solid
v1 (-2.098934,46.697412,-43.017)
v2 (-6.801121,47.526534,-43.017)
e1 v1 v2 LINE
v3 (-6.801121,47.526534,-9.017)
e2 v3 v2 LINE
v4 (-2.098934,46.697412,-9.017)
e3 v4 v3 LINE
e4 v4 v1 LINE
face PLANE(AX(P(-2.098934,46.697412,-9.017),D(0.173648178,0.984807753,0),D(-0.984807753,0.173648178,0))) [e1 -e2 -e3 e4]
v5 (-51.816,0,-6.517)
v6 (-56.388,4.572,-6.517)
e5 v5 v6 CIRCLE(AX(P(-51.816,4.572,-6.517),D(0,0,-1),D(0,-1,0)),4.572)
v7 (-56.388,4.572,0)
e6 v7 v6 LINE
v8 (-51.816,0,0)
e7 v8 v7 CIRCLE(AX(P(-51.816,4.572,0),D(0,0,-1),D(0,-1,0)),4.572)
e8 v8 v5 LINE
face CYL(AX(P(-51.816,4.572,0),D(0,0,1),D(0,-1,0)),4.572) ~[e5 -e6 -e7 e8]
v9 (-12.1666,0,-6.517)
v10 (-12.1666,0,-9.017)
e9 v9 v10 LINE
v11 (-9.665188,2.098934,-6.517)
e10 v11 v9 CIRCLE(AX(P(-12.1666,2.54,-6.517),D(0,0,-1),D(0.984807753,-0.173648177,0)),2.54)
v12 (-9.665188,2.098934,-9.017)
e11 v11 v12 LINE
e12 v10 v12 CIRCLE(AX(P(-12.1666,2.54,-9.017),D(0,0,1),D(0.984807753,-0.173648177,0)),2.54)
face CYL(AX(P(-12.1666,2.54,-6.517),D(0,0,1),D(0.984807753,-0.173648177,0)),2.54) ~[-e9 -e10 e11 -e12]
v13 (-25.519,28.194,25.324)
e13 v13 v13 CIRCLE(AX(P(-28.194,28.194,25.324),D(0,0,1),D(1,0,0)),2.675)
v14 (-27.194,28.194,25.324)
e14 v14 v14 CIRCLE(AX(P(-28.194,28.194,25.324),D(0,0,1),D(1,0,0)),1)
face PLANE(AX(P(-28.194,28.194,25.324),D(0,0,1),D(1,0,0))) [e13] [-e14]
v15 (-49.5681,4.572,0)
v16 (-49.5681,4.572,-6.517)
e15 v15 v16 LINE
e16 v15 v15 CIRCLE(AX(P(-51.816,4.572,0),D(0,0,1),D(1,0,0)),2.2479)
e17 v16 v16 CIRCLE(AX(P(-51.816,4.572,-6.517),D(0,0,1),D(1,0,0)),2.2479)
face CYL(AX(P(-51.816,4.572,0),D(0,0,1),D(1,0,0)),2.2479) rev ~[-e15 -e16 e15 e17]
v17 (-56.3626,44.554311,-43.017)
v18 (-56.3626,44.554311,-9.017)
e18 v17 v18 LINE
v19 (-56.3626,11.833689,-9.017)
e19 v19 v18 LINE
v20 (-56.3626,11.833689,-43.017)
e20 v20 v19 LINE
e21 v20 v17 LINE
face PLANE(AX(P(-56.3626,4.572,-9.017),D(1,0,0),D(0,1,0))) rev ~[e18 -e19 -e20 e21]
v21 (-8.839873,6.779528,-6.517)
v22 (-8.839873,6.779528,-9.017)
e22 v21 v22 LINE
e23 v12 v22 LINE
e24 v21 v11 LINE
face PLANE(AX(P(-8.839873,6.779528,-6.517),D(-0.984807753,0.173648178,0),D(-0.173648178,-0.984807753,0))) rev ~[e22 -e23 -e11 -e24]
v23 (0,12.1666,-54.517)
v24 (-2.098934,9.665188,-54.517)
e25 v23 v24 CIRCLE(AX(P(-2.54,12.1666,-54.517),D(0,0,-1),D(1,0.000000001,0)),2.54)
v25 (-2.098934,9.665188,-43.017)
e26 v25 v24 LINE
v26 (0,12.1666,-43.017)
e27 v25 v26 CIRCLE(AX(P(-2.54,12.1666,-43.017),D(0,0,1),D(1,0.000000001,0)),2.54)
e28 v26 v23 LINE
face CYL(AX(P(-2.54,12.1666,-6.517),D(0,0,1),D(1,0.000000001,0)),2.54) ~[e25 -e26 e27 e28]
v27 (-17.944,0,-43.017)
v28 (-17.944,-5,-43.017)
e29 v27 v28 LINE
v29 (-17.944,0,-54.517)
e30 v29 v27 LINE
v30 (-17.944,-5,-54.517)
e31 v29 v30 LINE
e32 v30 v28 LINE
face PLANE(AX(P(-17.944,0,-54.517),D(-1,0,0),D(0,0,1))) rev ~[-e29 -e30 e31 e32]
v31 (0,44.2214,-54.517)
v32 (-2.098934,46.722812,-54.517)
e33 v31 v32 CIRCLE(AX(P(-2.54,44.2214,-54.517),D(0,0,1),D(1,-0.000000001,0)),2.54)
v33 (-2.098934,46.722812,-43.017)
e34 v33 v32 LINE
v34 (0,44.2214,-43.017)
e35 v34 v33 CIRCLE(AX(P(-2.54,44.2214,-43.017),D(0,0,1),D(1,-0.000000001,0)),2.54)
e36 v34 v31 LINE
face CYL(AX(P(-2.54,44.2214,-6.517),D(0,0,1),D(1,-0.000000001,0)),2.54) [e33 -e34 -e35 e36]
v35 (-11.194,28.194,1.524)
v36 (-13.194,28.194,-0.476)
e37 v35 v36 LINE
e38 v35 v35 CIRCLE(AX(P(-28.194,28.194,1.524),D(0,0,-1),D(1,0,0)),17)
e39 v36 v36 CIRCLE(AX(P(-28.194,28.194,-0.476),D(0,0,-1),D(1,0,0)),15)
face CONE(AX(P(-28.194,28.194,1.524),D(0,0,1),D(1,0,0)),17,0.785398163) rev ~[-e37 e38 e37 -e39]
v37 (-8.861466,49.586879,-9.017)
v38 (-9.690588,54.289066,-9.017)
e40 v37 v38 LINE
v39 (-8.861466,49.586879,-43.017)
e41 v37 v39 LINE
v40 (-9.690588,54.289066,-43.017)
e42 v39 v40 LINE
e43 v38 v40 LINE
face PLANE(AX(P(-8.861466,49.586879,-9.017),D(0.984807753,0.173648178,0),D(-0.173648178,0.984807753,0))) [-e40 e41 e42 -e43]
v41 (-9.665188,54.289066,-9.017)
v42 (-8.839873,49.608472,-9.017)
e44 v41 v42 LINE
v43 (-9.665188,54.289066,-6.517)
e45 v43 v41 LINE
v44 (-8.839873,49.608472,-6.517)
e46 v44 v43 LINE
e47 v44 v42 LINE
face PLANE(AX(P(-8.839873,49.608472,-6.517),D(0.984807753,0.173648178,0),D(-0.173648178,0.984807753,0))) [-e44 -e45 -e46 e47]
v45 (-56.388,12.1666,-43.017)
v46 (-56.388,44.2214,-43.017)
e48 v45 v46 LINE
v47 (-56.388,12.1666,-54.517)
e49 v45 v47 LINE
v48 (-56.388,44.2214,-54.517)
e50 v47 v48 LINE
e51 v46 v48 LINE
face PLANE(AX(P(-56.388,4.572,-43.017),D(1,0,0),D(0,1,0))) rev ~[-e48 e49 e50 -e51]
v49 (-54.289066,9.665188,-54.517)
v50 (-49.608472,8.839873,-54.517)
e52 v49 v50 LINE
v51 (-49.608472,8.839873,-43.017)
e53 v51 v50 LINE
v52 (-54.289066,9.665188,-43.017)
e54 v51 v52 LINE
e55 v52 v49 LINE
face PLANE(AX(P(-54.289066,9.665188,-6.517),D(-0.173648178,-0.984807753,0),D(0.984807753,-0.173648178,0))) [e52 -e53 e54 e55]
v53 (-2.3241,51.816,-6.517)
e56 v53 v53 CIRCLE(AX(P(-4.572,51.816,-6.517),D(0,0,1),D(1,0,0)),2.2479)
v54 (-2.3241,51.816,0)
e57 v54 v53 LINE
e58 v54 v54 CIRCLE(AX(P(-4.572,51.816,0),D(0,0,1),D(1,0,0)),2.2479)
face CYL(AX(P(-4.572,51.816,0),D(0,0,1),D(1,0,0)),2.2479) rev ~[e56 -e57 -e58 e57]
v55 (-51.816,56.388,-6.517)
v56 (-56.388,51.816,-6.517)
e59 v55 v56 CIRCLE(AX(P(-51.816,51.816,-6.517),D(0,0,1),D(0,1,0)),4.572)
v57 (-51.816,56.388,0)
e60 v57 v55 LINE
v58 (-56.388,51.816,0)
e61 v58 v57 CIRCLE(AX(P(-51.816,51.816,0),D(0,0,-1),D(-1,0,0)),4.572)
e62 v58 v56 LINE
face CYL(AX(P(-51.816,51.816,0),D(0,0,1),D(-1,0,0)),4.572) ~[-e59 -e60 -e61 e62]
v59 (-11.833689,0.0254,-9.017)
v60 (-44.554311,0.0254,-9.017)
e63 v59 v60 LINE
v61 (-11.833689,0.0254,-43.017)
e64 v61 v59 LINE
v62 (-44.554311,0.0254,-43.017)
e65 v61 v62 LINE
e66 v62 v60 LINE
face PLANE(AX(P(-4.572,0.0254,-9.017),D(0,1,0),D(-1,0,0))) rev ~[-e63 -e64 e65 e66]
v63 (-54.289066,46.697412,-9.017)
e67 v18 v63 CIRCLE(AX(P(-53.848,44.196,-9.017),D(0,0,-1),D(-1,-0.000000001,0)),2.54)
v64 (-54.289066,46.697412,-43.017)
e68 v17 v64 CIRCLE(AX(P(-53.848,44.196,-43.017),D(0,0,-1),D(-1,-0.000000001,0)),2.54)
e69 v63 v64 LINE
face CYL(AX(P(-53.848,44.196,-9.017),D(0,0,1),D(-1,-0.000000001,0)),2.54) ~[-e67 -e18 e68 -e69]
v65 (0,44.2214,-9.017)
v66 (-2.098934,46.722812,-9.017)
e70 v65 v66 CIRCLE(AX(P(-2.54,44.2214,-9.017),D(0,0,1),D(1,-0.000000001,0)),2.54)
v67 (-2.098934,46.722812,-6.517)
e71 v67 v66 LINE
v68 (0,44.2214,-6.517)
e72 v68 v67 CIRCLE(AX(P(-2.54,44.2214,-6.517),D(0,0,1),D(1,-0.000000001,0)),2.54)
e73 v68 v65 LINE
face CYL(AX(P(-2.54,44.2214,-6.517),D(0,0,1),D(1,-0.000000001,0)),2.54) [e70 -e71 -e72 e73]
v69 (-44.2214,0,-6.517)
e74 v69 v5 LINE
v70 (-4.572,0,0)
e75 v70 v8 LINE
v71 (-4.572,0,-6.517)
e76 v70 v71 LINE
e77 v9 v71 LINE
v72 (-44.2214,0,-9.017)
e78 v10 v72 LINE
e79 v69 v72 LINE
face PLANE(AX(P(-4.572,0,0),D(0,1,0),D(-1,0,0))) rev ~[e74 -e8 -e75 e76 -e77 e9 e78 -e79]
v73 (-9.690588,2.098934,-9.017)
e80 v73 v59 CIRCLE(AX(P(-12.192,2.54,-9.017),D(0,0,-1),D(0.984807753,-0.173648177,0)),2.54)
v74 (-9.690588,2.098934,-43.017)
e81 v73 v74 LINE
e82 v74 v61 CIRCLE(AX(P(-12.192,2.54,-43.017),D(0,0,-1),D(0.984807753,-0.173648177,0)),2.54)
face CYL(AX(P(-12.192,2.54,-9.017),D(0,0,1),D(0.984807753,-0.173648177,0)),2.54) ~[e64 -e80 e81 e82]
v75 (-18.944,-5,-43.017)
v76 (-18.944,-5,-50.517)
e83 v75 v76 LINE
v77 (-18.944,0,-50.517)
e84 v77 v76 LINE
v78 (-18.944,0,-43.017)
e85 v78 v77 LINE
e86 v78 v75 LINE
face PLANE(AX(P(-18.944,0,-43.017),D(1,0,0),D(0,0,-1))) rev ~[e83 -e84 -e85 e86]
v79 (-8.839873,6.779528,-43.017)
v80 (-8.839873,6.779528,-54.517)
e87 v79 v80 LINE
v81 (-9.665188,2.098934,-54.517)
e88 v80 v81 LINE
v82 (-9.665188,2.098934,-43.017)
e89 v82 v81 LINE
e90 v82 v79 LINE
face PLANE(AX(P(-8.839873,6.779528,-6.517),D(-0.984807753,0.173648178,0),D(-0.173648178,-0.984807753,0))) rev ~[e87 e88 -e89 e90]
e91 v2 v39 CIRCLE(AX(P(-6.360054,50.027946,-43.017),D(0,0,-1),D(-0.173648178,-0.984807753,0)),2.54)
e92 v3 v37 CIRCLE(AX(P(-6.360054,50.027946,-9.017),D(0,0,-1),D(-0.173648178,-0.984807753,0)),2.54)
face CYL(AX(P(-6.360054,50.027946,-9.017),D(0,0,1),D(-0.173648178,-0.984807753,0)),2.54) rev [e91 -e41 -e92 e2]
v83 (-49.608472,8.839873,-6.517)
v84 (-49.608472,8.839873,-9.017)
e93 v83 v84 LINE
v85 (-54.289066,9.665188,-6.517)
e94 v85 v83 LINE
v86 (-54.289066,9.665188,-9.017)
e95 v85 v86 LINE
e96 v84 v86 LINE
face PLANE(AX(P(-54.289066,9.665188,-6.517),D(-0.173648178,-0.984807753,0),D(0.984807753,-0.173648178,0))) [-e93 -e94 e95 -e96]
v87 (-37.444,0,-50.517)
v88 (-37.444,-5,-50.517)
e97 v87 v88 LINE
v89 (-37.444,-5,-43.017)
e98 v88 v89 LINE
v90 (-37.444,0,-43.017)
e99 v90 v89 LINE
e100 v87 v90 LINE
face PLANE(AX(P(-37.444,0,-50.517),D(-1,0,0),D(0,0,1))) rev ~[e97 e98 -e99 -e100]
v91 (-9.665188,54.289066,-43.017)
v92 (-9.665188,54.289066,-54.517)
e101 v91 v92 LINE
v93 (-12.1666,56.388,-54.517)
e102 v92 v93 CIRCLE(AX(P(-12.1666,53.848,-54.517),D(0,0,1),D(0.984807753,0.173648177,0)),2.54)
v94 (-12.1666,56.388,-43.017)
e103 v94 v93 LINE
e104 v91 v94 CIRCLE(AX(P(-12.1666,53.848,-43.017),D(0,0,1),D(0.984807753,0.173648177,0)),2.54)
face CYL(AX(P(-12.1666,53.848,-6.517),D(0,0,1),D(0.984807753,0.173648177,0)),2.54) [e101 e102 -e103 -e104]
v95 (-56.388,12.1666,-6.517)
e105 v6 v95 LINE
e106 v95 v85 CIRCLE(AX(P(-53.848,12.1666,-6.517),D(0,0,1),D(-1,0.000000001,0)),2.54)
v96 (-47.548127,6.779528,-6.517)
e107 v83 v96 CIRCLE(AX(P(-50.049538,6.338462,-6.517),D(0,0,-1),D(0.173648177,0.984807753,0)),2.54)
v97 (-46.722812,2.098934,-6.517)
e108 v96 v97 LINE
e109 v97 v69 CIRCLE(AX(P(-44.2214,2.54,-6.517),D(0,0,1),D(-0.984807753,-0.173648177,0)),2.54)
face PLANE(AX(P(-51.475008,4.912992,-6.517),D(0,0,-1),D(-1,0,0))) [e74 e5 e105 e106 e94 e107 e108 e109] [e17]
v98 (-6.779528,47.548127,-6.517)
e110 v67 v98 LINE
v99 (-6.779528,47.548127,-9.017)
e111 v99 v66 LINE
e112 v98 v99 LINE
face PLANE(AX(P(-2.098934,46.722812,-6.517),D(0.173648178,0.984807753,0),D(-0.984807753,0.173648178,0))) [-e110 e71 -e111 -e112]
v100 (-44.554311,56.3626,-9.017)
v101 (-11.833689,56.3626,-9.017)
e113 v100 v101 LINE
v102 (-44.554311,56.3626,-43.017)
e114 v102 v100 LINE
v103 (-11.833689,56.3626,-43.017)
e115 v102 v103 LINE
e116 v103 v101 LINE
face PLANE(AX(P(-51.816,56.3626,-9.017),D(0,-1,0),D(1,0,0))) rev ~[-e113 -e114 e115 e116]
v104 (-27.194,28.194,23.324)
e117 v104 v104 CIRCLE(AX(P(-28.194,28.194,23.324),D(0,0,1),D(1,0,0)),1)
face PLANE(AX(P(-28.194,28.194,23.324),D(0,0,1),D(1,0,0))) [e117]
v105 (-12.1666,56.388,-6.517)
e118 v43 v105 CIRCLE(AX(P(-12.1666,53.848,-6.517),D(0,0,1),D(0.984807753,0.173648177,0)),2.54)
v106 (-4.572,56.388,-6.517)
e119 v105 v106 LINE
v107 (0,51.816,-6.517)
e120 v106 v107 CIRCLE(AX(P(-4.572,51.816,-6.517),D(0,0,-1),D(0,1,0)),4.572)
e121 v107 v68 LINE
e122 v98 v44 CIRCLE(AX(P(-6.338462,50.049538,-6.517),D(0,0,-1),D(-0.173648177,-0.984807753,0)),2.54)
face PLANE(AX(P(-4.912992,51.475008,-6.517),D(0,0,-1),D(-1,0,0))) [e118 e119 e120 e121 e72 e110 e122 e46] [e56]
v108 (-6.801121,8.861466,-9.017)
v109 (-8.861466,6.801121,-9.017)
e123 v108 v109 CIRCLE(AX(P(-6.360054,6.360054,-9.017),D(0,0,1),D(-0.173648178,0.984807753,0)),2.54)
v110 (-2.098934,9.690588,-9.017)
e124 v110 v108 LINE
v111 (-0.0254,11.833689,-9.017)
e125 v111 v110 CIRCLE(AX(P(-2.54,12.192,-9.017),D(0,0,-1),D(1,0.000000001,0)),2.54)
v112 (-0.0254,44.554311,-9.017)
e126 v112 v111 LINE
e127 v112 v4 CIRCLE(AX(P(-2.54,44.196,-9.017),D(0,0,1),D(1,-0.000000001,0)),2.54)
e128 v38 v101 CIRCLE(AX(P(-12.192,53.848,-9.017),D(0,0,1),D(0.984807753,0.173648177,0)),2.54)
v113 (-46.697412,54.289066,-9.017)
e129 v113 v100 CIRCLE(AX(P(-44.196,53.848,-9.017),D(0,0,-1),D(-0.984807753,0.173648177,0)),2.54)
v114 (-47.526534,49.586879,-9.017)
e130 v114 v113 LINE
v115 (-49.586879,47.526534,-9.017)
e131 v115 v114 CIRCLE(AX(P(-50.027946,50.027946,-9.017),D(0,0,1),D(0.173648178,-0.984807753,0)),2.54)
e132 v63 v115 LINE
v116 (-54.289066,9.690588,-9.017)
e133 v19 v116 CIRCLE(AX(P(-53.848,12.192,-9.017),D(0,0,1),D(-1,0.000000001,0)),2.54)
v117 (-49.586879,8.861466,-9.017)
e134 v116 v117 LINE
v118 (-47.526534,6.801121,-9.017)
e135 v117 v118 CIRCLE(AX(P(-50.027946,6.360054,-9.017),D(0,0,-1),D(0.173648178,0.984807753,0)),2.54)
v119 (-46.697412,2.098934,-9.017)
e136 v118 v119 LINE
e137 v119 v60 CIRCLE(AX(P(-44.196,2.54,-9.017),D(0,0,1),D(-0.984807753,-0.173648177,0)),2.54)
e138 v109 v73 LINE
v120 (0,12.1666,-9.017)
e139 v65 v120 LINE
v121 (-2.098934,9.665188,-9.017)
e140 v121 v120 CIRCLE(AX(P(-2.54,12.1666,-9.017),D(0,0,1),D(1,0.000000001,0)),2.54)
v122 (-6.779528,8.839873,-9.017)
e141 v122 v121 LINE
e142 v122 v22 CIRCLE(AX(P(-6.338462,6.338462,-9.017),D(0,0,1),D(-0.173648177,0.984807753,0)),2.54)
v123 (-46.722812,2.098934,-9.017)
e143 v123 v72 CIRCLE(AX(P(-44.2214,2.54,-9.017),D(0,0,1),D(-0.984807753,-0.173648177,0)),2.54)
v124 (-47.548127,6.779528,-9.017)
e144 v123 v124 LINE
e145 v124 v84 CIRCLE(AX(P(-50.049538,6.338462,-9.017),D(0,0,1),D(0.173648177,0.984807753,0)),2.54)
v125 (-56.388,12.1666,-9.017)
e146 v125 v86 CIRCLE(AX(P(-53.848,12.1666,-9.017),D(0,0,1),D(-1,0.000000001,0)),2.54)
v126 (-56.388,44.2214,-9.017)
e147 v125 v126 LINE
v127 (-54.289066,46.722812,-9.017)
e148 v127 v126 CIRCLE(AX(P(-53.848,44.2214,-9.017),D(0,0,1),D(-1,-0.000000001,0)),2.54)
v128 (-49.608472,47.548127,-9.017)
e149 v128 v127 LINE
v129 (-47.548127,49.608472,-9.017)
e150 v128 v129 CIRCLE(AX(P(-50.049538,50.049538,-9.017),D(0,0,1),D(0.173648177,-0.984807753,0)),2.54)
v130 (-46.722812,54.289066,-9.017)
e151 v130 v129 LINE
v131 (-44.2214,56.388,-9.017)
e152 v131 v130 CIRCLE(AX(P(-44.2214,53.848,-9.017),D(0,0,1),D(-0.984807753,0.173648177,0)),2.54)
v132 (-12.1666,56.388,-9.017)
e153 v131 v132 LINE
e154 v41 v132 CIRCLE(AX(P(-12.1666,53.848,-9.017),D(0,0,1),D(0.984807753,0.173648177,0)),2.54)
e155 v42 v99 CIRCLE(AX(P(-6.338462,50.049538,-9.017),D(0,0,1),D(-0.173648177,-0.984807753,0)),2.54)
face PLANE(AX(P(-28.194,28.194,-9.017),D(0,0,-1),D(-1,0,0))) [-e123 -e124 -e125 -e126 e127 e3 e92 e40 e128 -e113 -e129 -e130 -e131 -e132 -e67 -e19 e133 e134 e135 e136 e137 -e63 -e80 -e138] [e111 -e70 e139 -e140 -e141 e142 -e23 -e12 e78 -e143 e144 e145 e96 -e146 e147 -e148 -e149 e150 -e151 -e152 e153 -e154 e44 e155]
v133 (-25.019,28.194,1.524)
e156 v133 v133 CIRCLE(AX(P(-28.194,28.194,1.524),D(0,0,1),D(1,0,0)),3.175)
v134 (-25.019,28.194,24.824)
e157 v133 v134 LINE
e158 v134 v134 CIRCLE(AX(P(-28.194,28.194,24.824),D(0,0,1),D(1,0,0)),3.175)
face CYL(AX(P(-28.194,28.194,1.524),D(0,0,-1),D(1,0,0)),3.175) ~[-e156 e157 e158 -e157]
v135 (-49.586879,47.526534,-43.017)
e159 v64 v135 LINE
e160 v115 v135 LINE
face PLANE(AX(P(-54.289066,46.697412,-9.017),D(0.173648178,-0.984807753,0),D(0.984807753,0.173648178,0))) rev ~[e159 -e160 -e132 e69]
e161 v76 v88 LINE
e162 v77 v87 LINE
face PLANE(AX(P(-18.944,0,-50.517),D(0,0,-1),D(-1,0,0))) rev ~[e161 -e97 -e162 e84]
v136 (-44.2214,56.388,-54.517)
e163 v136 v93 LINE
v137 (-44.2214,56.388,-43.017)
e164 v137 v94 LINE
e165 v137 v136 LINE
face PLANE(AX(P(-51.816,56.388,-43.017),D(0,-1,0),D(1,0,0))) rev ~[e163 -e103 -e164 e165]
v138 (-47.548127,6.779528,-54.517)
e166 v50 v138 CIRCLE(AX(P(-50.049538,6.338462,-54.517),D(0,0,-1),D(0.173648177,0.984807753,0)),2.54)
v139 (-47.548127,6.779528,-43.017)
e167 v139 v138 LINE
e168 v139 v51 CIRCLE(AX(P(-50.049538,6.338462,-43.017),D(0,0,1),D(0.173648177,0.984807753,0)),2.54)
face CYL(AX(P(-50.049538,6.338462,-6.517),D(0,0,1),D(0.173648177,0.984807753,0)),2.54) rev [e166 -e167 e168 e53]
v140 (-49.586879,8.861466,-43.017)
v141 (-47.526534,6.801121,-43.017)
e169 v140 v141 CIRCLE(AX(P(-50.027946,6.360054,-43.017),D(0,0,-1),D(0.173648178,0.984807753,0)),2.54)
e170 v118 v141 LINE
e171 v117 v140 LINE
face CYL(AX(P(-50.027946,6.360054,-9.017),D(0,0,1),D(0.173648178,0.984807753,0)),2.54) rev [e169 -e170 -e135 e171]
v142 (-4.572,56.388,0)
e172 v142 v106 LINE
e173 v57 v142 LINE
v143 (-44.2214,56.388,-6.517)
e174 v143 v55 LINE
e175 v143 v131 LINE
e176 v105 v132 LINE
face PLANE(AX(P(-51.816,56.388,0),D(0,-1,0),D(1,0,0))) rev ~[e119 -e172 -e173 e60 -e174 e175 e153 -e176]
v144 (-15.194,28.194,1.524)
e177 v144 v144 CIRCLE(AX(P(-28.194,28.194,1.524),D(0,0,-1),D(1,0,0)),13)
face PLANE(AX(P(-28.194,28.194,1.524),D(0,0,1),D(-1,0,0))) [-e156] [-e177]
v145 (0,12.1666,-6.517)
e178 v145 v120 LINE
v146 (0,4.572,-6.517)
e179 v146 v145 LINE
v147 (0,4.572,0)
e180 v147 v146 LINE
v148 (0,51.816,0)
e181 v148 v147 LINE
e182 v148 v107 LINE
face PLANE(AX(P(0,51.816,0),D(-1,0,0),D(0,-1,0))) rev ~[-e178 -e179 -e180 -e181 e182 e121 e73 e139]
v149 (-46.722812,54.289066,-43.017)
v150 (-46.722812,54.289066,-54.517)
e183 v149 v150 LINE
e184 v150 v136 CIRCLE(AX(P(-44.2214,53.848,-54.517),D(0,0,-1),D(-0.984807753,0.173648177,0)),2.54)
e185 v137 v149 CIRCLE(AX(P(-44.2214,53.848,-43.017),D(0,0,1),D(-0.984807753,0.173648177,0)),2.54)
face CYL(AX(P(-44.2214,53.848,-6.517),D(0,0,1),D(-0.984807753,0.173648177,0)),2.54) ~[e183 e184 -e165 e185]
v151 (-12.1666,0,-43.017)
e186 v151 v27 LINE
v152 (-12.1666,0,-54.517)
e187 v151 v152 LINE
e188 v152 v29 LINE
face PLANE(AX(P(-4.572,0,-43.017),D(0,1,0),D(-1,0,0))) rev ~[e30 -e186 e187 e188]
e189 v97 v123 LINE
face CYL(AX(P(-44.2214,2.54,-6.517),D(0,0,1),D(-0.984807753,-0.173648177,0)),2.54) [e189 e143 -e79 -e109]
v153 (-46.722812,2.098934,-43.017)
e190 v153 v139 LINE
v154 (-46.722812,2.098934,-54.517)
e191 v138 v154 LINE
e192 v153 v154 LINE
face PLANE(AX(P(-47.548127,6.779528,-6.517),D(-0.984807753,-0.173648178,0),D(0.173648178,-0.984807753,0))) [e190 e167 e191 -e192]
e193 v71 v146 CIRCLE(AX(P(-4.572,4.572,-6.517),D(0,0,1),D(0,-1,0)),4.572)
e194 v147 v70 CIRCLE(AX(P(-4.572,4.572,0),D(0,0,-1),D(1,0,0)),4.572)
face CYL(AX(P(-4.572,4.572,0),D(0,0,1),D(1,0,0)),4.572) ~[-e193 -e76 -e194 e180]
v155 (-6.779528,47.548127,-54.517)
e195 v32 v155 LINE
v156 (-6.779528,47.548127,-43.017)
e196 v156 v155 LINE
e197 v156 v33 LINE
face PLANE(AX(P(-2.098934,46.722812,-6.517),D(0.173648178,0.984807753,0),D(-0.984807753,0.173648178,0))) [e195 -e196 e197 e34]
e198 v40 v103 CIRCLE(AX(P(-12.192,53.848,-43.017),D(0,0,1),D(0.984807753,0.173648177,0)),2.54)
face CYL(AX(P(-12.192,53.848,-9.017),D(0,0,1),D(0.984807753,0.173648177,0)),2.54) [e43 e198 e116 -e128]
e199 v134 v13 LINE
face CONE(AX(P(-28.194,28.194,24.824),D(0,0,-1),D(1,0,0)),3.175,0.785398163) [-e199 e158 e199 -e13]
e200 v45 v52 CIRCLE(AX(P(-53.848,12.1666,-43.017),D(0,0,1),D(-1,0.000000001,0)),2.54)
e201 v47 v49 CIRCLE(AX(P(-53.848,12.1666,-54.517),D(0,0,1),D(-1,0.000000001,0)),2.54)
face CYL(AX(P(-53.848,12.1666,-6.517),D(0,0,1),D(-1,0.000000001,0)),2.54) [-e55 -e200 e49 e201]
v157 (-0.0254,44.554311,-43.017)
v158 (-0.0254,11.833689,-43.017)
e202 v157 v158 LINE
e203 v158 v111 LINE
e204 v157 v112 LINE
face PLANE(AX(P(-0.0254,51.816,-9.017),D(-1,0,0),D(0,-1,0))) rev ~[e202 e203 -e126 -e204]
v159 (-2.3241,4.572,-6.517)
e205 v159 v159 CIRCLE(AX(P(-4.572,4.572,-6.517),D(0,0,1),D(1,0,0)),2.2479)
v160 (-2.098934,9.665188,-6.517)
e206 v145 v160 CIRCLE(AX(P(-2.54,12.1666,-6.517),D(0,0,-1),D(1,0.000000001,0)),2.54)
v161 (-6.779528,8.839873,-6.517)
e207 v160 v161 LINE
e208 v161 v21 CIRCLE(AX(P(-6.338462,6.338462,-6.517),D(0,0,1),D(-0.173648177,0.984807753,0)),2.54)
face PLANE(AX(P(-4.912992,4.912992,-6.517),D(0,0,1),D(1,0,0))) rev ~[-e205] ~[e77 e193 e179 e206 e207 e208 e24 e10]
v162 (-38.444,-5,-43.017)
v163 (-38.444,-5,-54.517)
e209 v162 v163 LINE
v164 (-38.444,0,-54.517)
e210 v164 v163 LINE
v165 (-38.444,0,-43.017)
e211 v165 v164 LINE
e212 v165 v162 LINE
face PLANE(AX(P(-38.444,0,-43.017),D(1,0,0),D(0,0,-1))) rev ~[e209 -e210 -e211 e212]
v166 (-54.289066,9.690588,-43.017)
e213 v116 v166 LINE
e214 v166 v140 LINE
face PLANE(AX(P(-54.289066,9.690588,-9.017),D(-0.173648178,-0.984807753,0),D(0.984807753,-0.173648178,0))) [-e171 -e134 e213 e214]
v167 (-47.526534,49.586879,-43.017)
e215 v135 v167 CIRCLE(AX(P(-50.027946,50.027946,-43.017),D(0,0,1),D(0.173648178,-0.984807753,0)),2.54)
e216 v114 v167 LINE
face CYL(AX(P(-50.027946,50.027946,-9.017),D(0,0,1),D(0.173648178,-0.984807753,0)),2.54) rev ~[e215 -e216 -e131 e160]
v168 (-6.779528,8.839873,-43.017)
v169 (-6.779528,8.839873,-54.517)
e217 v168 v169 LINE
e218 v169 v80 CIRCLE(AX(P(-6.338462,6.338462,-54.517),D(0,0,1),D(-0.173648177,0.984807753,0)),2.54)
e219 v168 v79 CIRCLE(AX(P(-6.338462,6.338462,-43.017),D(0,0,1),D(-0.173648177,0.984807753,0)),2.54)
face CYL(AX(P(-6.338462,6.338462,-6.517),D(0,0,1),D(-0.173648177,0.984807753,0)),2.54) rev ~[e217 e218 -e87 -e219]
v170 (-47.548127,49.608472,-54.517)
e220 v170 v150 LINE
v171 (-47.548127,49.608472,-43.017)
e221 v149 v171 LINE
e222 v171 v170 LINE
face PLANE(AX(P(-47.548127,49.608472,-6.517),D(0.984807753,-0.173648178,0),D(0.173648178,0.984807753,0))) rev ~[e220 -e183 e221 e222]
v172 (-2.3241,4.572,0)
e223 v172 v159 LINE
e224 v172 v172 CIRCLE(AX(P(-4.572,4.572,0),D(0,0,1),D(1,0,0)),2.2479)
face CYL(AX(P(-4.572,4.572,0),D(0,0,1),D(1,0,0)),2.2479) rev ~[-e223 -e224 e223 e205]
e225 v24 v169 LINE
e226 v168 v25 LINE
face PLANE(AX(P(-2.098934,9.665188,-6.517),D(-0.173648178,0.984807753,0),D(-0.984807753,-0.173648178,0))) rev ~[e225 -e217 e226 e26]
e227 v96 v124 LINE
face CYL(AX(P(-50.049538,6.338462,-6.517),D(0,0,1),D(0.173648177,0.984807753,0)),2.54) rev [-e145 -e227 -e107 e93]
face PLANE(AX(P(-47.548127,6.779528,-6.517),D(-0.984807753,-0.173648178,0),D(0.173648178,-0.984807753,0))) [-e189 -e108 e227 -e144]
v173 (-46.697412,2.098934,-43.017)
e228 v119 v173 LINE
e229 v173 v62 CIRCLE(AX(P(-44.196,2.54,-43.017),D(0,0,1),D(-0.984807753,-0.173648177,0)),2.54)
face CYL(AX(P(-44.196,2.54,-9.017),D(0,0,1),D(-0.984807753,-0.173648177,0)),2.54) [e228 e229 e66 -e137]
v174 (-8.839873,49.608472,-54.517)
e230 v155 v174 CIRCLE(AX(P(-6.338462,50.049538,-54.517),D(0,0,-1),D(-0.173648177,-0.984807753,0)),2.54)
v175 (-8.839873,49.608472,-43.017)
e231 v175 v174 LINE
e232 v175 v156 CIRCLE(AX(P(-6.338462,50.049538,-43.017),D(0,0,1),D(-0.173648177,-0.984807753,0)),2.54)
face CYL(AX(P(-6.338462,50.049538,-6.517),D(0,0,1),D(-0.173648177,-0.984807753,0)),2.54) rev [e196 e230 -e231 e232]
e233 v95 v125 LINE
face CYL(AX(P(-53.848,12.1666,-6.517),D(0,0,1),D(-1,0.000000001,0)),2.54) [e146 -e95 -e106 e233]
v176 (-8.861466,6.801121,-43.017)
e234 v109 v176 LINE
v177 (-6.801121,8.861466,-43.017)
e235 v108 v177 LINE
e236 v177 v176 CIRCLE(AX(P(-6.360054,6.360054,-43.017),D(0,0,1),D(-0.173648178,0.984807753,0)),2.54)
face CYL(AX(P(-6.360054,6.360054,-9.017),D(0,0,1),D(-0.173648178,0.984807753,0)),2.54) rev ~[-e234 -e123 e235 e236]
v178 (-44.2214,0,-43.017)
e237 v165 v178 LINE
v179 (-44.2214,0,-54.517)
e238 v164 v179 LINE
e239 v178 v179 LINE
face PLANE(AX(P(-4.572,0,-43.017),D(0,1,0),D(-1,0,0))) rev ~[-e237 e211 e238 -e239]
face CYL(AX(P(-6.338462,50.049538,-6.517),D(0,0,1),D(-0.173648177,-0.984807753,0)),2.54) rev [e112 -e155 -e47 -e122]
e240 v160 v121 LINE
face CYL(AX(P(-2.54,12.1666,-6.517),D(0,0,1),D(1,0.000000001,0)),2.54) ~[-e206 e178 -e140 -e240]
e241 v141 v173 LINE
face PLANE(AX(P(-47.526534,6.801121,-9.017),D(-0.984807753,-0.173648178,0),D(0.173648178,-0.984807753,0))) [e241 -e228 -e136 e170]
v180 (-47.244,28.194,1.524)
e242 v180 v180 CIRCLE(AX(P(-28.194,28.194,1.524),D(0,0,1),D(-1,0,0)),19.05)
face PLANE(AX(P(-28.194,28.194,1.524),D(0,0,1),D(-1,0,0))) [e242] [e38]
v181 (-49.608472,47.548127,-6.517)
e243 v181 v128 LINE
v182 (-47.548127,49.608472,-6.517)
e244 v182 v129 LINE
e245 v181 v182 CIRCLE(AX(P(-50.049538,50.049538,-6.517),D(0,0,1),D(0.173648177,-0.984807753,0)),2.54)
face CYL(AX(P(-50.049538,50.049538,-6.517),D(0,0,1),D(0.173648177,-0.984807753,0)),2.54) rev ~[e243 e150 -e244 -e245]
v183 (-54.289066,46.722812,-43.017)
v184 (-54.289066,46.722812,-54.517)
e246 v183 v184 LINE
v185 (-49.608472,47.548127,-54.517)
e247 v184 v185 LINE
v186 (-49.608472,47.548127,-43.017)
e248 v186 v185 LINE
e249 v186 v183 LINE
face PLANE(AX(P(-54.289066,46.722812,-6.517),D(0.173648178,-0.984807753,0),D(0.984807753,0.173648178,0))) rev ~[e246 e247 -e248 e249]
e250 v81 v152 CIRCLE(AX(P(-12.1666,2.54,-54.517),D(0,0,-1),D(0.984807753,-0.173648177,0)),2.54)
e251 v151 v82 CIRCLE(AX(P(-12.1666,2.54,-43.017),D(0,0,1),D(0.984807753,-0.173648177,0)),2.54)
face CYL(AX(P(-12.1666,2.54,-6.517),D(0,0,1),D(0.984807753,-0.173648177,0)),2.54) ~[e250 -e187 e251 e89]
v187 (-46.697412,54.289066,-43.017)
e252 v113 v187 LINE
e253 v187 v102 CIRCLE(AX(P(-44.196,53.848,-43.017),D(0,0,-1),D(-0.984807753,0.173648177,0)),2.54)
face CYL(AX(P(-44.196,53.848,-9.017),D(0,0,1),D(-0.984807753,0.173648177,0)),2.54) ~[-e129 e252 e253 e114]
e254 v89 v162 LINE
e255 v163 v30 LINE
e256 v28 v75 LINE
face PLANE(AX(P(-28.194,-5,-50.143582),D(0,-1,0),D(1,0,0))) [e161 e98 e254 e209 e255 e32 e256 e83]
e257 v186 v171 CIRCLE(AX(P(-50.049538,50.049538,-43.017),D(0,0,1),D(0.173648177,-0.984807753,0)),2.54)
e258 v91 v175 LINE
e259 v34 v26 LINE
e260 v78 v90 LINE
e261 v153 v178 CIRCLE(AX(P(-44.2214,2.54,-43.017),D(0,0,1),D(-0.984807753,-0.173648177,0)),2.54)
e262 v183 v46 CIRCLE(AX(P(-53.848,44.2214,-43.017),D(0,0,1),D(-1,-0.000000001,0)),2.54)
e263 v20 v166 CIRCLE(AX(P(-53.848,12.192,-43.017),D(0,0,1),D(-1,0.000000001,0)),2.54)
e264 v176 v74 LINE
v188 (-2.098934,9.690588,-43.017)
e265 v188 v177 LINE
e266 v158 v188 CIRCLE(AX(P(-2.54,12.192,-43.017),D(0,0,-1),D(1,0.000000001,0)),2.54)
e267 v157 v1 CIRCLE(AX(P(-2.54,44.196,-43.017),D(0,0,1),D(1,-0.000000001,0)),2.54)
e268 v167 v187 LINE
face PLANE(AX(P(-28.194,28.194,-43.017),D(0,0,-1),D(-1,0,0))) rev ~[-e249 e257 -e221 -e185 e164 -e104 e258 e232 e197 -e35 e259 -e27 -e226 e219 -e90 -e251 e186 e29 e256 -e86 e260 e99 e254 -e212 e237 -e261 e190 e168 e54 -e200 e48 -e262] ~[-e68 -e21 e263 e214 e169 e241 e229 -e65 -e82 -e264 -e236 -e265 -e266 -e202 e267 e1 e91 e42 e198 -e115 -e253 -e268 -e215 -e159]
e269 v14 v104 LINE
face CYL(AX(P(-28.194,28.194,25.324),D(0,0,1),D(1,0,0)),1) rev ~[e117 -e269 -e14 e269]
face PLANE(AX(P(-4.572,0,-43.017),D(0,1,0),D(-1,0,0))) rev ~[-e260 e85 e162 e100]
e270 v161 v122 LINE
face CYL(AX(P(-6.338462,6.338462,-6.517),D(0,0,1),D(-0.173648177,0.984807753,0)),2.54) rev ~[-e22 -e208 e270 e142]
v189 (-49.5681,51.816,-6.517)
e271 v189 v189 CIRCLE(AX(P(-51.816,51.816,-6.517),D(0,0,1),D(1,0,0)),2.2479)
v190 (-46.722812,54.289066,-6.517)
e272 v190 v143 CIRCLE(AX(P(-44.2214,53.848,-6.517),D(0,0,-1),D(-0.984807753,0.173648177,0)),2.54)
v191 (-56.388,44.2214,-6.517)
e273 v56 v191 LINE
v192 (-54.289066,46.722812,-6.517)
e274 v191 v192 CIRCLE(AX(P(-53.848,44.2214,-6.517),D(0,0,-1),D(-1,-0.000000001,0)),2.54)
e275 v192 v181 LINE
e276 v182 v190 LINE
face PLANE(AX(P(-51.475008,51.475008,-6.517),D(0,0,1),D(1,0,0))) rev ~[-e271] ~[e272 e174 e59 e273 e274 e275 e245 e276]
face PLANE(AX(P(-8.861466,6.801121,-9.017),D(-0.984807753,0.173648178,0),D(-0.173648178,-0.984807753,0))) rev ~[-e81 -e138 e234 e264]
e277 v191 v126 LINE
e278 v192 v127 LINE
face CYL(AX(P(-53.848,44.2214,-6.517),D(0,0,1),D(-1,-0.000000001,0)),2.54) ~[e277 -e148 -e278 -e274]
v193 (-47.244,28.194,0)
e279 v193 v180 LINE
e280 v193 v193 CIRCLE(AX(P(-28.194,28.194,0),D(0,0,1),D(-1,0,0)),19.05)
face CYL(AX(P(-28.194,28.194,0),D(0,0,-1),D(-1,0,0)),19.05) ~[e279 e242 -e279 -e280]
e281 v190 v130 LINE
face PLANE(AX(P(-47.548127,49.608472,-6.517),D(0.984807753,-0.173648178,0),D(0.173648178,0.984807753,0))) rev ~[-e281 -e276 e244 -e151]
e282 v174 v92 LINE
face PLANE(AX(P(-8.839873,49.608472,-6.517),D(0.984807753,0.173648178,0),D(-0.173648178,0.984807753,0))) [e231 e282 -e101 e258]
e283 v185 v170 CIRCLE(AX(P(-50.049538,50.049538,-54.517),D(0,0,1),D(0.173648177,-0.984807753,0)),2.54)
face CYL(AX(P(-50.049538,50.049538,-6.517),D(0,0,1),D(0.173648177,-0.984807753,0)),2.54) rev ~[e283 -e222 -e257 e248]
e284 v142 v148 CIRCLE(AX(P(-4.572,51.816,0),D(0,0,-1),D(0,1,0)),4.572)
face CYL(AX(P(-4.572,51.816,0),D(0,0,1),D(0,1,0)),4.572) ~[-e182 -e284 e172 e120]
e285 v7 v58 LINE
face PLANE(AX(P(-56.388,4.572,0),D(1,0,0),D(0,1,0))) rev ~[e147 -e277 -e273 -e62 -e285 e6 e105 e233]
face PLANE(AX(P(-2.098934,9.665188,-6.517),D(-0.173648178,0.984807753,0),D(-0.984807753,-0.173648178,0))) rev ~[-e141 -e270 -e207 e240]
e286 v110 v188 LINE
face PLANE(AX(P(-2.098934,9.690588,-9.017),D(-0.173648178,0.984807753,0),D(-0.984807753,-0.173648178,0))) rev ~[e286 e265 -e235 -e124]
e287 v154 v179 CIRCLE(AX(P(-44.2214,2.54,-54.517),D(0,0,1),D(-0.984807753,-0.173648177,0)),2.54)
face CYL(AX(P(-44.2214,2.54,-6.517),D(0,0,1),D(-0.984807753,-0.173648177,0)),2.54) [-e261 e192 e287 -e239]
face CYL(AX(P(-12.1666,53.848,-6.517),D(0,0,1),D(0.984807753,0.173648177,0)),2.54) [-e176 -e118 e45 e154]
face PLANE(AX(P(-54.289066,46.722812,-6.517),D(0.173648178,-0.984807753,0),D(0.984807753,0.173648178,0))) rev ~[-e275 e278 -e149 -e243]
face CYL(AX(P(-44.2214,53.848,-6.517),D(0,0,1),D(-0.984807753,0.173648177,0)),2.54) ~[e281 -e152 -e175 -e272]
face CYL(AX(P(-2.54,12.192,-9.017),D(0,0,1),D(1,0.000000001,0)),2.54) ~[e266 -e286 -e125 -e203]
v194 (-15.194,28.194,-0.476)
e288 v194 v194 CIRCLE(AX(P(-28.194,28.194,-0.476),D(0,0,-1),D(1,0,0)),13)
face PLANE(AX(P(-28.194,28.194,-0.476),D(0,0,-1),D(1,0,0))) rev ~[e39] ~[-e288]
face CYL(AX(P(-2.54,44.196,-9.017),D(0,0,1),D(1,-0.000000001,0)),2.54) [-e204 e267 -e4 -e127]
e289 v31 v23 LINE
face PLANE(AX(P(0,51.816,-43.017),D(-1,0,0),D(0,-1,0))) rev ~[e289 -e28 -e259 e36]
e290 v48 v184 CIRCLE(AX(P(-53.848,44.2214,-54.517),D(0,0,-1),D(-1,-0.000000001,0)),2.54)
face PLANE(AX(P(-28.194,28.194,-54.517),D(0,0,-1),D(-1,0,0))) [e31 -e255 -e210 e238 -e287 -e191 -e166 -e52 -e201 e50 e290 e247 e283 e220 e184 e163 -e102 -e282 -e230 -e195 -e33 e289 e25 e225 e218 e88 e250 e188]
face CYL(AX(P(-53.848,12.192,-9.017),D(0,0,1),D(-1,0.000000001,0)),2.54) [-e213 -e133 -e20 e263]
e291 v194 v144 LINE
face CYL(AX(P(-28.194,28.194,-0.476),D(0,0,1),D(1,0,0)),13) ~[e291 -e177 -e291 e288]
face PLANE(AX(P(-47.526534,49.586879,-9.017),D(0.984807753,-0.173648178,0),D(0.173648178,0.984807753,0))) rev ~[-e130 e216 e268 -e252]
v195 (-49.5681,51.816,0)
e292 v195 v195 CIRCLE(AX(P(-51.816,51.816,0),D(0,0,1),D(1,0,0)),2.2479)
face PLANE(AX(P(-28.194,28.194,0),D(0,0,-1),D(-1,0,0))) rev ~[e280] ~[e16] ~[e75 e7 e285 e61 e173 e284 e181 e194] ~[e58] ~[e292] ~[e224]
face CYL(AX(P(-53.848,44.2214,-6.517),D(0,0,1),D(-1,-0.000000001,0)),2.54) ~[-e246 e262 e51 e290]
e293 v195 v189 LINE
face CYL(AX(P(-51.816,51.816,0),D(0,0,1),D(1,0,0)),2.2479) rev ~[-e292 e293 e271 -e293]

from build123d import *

# Parameters (mm, degrees)
SKETCH1_R             = 2.2479
EXTRUDE1_DEPTH        = 9.017
SKETCH2_R             = 19.05
EXTRUDE2_DEPTH        = 1.524
SKETCH3_R             = 3.175
EXTRUDE3_DEPTH        = 23.8
EXTRUDE5_DEPTH        = 34
CUT_EXTRUDE2_START    = -34
CUT_EXTRUDE2_DEPTH    = 34
EXTRUDE7_DEPTH        = 11.5
CUT_EXTRUDE3_START    = -48
CUT_EXTRUDE3_DEPTH    = 48
EXTRUDE8_DEPTH        = 5
CHANFRO1_SIZE         = 0.5
ESBO_O1_R             = 1
CORTE_EXTRUS_O1_DEPTH = 2


with BuildPart() as part:
    # Sketch1 → Extrude1 (new body)
    with BuildSketch(Plane.XY):
        with BuildLine():
            Line((-4.572, 0), (-51.816, 0))
            ThreePointArc((-51.816, 0), (-55.048892204, 1.339107796), (-56.388, 4.572))
            Line((-56.388, 4.572), (-56.388, 51.816))
            ThreePointArc((-56.388, 51.816), (-55.048892204, 55.048892204), (-51.816, 56.388))
            Line((-51.816, 56.388), (-4.572, 56.388))
            ThreePointArc((-4.572, 56.388), (-1.339107796, 55.048892204), (0, 51.816))
            Line((0, 51.816), (0, 4.572))
            ThreePointArc((0, 4.572), (-1.339107796, 1.339107796), (-4.572, 0))
        make_face()
        with Locations((-4.572, 51.816)):
            Circle(SKETCH1_R, mode=Mode.SUBTRACT)
        with Locations((-4.572, 4.572)):
            Circle(SKETCH1_R, mode=Mode.SUBTRACT)
        with Locations((-51.816, 4.572)):
            Circle(SKETCH1_R, mode=Mode.SUBTRACT)
        with Locations((-51.816, 51.816)):
            Circle(SKETCH1_R, mode=Mode.SUBTRACT)
    extrude(amount=-EXTRUDE1_DEPTH)

    # Sketch2 → Extrude2 (add)
    with BuildSketch(Plane.XY):
        with Locations(Location((-28.194, 28.194, 0), (0, 0, 180))):
            Circle(SKETCH2_R)
    extrude(amount=EXTRUDE2_DEPTH)

    # Sketch3 → Extrude3 (add)
    with BuildSketch(Plane.XY.offset(1.524)):
        with Locations((-28.194, 28.194)):
            Circle(SKETCH3_R)
    extrude(amount=EXTRUDE3_DEPTH)

    # Sketch5 → Extrude5 (add)
    with BuildSketch(Plane(origin=(0, 0, -9.017), x_dir=(-1, 0, 0), z_dir=(0, 0, -1))):
        with BuildLine():
            Line((4.572, 0.0254), (51.816, 0.0254))
            ThreePointArc((51.816, 0.0254), (55.030931691, 1.357068309), (56.3626, 4.572))
            Line((56.3626, 4.572), (56.3626, 51.816))
            ThreePointArc((56.3626, 51.816), (55.030931691, 55.030931691), (51.816, 56.3626))
            Line((51.816, 56.3626), (4.572, 56.3626))
            ThreePointArc((4.572, 56.3626), (1.357068309, 55.030931691), (0.0254, 51.816))
            Line((0.0254, 51.816), (0.0254, 4.572))
            ThreePointArc((0.0254, 4.572), (1.357068309, 1.357068309), (4.572, 0.0254))
        make_face()
    extrude(amount=EXTRUDE5_DEPTH)

    # Sketch7 → Cut-Extrude2 (cut)
    with BuildSketch(Plane(origin=(0, 0, -43.017), x_dir=(-1, 0, 0), z_dir=(0, 0, -1)).offset(CUT_EXTRUDE2_START)):
        with BuildLine():
            Line((2.098933629, 46.697411693), (6.801120561, 47.526534117))
            ThreePointArc((6.801120561, 47.526534117), (8.156105414, 48.231894586), (8.861465883, 49.586879439))
            Line((8.861465883, 49.586879439), (9.690588307, 54.289066371))
            ThreePointArc((9.690588307, 54.289066371), (10.559319471, 55.793752886), (12.192, 56.388))
            Line((12.192, 56.388), (4.572, 56.388))
            ThreePointArc((4.572, 56.388), (1.339107796, 55.048892204), (0, 51.816))
            Line((0, 51.816), (0, 44.196))
            ThreePointArc((0, 44.196), (0.594247114, 45.828680529), (2.098933629, 46.697411693))
        make_face()
        with BuildLine():
            Line((56.388, 51.816), (56.388, 44.196))
            ThreePointArc((56.388, 44.196), (55.793752886, 45.828680529), (54.289066371, 46.697411693))
            Line((54.289066371, 46.697411693), (49.586879439, 47.526534117))
            ThreePointArc((49.586879439, 47.526534117), (48.231894586, 48.231894586), (47.526534117, 49.586879439))
            Line((47.526534117, 49.586879439), (46.697411693, 54.289066371))
            ThreePointArc((46.697411693, 54.289066371), (45.828680529, 55.793752886), (44.196, 56.388))
            Line((44.196, 56.388), (51.816, 56.388))
            ThreePointArc((51.816, 56.388), (55.048892204, 55.048892204), (56.388, 51.816))
        make_face()
        with BuildLine():
            Line((54.289066371, 9.690588307), (49.586879439, 8.861465883))
            ThreePointArc((49.586879439, 8.861465883), (48.231894586, 8.156105414), (47.526534117, 6.801120561))
            Line((47.526534117, 6.801120561), (46.697411693, 2.098933629))
            ThreePointArc((46.697411693, 2.098933629), (45.828680529, 0.594247114), (44.196, 0))
            Line((44.196, 0), (51.816, 0))
            ThreePointArc((51.816, 0), (55.048892204, 1.339107796), (56.388, 4.572))
            Line((56.388, 4.572), (56.388, 12.192))
            ThreePointArc((56.388, 12.192), (55.793752886, 10.559319471), (54.289066371, 9.690588307))
        make_face()
        with BuildLine():
            Line((0, 4.572), (0, 12.192))
            ThreePointArc((0, 12.192), (0.594247114, 10.559319471), (2.098933629, 9.690588307))
            Line((2.098933629, 9.690588307), (6.801120561, 8.861465883))
            ThreePointArc((6.801120561, 8.861465883), (8.156105414, 8.156105414), (8.861465883, 6.801120561))
            Line((8.861465883, 6.801120561), (9.690588307, 2.098933629))
            ThreePointArc((9.690588307, 2.098933629), (10.559319471, 0.594247114), (12.192, 0))
            Line((12.192, 0), (4.572, 0))
            ThreePointArc((4.572, 0), (1.339107796, 1.339107796), (0, 4.572))
        make_face()
    extrude(amount=CUT_EXTRUDE2_DEPTH, mode=Mode.SUBTRACT)

    # Sketch6 → Extrude7 (add)
    with BuildSketch(Plane(origin=(0, 0, -43.017), x_dir=(-1, 0, 0), z_dir=(0, 0, -1))):
        with BuildLine():
            Line((0, 51.816), (0, 4.572))
            ThreePointArc((0, 4.572), (1.339107796, 1.339107796), (4.572, 0))
            Line((4.572, 0), (51.816, 0))
            ThreePointArc((51.816, 0), (55.048892204, 1.339107796), (56.388, 4.572))
            Line((56.388, 4.572), (56.388, 51.816))
            ThreePointArc((56.388, 51.816), (55.048892204, 55.048892204), (51.816, 56.388))
            Line((51.816, 56.388), (4.572, 56.388))
            ThreePointArc((4.572, 56.388), (1.339107796, 55.048892204), (0, 51.816))
        make_face()
    extrude(amount=EXTRUDE7_DEPTH)

    # Sketch8 → Cut-Extrude3 (cut)
    with BuildSketch(Plane(origin=(0, 0, -54.517), x_dir=(-1, 0, 0), z_dir=(0, 0, -1)).offset(CUT_EXTRUDE3_START)):
        with BuildLine():
            Line((2.098933629, 46.722811693), (6.779527926, 47.548126753))
            ThreePointArc((6.779527926, 47.548126753), (8.134512779, 48.253487221), (8.839873247, 49.608472074))
            Line((8.839873247, 49.608472074), (9.665188307, 54.289066371))
            ThreePointArc((9.665188307, 54.289066371), (10.533919471, 55.793752886), (12.1666, 56.388))
            Line((12.1666, 56.388), (4.572, 56.388))
            ThreePointArc((4.572, 56.388), (1.339107796, 55.048892204), (0, 51.816))
            Line((0, 51.816), (0, 44.2214))
            ThreePointArc((0, 44.2214), (0.594247114, 45.854080529), (2.098933629, 46.722811693))
        make_face()
        with BuildLine():
            Line((56.388, 51.816), (56.388, 44.2214))
            ThreePointArc((56.388, 44.2214), (55.793752886, 45.854080529), (54.289066371, 46.722811693))
            Line((54.289066371, 46.722811693), (49.608472074, 47.548126753))
            ThreePointArc((49.608472074, 47.548126753), (48.253487221, 48.253487221), (47.548126753, 49.608472074))
            Line((47.548126753, 49.608472074), (46.722811693, 54.289066371))
            ThreePointArc((46.722811693, 54.289066371), (45.854080529, 55.793752886), (44.2214, 56.388))
            Line((44.2214, 56.388), (51.816, 56.388))
            ThreePointArc((51.816, 56.388), (55.048892204, 55.048892204), (56.388, 51.816))
        make_face()
        with BuildLine():
            Line((54.289066371, 9.665188307), (49.608472074, 8.839873247))
            ThreePointArc((49.608472074, 8.839873247), (48.253487221, 8.134512779), (47.548126753, 6.779527926))
            Line((47.548126753, 6.779527926), (46.722811693, 2.098933629))
            ThreePointArc((46.722811693, 2.098933629), (45.854080529, 0.594247114), (44.2214, 0))
            Line((44.2214, 0), (51.816, 0))
            ThreePointArc((51.816, 0), (55.048892204, 1.339107796), (56.388, 4.572))
            Line((56.388, 4.572), (56.388, 12.1666))
            ThreePointArc((56.388, 12.1666), (55.793752886, 10.533919471), (54.289066371, 9.665188307))
        make_face()
        with BuildLine():
            Line((0, 4.572), (0, 12.1666))
            ThreePointArc((0, 12.1666), (0.594247114, 10.533919471), (2.098933629, 9.665188307))
            Line((2.098933629, 9.665188307), (6.779527926, 8.839873247))
            ThreePointArc((6.779527926, 8.839873247), (8.134512779, 8.134512779), (8.839873247, 6.779527926))
            Line((8.839873247, 6.779527926), (9.665188307, 2.098933629))
            ThreePointArc((9.665188307, 2.098933629), (10.533919471, 0.594247114), (12.1666, 0))
            Line((12.1666, 0), (4.572, 0))
            ThreePointArc((4.572, 0), (1.339107796, 1.339107796), (0, 4.572))
        make_face()
    extrude(amount=CUT_EXTRUDE3_DEPTH, mode=Mode.SUBTRACT)

    # Sketch9 → Extrude8 (add)
    with BuildSketch(Plane.XZ):
        Polygon((-38.444, -54.517), (-17.944, -54.517), (-17.944, -43.017), (-18.944, -43.017), (-18.944, -50.517), (-37.444, -50.517), (-37.444, -43.017), (-38.444, -43.017), align=None)
    extrude(amount=EXTRUDE8_DEPTH)

    # Chanfro1
    chanfro1_edges = [part.edges().sort_by_distance(p)[0] for p in [
        (-31.369, 28.194, 25.324),
    ]]
    chamfer(chanfro1_edges, length=CHANFRO1_SIZE)

    # Esboço1 → Corte-extrusão1 (cut)
    with BuildSketch(Plane.XY.offset(25.324)):
        with Locations((-28.194, 28.194)):
            Circle(ESBO_O1_R)
    extrude(amount=-CORTE_EXTRUS_O1_DEPTH, mode=Mode.SUBTRACT)

    # Esboço2 → Corte-Revolução1 (revolve, cut)
    with BuildSketch(Plane(origin=(0, 28.194, 0), x_dir=(-1, 0, 0), z_dir=(0, 1, 0))):
        Polygon((11.194, 1.524), (13.194, -0.476), (15.194, -0.476), (15.194, 1.524), align=None)
    revolve(axis=Axis((-28.194, 28.194, 25.324), (0, 0, -1)), mode=Mode.SUBTRACT)


solid = part.part
